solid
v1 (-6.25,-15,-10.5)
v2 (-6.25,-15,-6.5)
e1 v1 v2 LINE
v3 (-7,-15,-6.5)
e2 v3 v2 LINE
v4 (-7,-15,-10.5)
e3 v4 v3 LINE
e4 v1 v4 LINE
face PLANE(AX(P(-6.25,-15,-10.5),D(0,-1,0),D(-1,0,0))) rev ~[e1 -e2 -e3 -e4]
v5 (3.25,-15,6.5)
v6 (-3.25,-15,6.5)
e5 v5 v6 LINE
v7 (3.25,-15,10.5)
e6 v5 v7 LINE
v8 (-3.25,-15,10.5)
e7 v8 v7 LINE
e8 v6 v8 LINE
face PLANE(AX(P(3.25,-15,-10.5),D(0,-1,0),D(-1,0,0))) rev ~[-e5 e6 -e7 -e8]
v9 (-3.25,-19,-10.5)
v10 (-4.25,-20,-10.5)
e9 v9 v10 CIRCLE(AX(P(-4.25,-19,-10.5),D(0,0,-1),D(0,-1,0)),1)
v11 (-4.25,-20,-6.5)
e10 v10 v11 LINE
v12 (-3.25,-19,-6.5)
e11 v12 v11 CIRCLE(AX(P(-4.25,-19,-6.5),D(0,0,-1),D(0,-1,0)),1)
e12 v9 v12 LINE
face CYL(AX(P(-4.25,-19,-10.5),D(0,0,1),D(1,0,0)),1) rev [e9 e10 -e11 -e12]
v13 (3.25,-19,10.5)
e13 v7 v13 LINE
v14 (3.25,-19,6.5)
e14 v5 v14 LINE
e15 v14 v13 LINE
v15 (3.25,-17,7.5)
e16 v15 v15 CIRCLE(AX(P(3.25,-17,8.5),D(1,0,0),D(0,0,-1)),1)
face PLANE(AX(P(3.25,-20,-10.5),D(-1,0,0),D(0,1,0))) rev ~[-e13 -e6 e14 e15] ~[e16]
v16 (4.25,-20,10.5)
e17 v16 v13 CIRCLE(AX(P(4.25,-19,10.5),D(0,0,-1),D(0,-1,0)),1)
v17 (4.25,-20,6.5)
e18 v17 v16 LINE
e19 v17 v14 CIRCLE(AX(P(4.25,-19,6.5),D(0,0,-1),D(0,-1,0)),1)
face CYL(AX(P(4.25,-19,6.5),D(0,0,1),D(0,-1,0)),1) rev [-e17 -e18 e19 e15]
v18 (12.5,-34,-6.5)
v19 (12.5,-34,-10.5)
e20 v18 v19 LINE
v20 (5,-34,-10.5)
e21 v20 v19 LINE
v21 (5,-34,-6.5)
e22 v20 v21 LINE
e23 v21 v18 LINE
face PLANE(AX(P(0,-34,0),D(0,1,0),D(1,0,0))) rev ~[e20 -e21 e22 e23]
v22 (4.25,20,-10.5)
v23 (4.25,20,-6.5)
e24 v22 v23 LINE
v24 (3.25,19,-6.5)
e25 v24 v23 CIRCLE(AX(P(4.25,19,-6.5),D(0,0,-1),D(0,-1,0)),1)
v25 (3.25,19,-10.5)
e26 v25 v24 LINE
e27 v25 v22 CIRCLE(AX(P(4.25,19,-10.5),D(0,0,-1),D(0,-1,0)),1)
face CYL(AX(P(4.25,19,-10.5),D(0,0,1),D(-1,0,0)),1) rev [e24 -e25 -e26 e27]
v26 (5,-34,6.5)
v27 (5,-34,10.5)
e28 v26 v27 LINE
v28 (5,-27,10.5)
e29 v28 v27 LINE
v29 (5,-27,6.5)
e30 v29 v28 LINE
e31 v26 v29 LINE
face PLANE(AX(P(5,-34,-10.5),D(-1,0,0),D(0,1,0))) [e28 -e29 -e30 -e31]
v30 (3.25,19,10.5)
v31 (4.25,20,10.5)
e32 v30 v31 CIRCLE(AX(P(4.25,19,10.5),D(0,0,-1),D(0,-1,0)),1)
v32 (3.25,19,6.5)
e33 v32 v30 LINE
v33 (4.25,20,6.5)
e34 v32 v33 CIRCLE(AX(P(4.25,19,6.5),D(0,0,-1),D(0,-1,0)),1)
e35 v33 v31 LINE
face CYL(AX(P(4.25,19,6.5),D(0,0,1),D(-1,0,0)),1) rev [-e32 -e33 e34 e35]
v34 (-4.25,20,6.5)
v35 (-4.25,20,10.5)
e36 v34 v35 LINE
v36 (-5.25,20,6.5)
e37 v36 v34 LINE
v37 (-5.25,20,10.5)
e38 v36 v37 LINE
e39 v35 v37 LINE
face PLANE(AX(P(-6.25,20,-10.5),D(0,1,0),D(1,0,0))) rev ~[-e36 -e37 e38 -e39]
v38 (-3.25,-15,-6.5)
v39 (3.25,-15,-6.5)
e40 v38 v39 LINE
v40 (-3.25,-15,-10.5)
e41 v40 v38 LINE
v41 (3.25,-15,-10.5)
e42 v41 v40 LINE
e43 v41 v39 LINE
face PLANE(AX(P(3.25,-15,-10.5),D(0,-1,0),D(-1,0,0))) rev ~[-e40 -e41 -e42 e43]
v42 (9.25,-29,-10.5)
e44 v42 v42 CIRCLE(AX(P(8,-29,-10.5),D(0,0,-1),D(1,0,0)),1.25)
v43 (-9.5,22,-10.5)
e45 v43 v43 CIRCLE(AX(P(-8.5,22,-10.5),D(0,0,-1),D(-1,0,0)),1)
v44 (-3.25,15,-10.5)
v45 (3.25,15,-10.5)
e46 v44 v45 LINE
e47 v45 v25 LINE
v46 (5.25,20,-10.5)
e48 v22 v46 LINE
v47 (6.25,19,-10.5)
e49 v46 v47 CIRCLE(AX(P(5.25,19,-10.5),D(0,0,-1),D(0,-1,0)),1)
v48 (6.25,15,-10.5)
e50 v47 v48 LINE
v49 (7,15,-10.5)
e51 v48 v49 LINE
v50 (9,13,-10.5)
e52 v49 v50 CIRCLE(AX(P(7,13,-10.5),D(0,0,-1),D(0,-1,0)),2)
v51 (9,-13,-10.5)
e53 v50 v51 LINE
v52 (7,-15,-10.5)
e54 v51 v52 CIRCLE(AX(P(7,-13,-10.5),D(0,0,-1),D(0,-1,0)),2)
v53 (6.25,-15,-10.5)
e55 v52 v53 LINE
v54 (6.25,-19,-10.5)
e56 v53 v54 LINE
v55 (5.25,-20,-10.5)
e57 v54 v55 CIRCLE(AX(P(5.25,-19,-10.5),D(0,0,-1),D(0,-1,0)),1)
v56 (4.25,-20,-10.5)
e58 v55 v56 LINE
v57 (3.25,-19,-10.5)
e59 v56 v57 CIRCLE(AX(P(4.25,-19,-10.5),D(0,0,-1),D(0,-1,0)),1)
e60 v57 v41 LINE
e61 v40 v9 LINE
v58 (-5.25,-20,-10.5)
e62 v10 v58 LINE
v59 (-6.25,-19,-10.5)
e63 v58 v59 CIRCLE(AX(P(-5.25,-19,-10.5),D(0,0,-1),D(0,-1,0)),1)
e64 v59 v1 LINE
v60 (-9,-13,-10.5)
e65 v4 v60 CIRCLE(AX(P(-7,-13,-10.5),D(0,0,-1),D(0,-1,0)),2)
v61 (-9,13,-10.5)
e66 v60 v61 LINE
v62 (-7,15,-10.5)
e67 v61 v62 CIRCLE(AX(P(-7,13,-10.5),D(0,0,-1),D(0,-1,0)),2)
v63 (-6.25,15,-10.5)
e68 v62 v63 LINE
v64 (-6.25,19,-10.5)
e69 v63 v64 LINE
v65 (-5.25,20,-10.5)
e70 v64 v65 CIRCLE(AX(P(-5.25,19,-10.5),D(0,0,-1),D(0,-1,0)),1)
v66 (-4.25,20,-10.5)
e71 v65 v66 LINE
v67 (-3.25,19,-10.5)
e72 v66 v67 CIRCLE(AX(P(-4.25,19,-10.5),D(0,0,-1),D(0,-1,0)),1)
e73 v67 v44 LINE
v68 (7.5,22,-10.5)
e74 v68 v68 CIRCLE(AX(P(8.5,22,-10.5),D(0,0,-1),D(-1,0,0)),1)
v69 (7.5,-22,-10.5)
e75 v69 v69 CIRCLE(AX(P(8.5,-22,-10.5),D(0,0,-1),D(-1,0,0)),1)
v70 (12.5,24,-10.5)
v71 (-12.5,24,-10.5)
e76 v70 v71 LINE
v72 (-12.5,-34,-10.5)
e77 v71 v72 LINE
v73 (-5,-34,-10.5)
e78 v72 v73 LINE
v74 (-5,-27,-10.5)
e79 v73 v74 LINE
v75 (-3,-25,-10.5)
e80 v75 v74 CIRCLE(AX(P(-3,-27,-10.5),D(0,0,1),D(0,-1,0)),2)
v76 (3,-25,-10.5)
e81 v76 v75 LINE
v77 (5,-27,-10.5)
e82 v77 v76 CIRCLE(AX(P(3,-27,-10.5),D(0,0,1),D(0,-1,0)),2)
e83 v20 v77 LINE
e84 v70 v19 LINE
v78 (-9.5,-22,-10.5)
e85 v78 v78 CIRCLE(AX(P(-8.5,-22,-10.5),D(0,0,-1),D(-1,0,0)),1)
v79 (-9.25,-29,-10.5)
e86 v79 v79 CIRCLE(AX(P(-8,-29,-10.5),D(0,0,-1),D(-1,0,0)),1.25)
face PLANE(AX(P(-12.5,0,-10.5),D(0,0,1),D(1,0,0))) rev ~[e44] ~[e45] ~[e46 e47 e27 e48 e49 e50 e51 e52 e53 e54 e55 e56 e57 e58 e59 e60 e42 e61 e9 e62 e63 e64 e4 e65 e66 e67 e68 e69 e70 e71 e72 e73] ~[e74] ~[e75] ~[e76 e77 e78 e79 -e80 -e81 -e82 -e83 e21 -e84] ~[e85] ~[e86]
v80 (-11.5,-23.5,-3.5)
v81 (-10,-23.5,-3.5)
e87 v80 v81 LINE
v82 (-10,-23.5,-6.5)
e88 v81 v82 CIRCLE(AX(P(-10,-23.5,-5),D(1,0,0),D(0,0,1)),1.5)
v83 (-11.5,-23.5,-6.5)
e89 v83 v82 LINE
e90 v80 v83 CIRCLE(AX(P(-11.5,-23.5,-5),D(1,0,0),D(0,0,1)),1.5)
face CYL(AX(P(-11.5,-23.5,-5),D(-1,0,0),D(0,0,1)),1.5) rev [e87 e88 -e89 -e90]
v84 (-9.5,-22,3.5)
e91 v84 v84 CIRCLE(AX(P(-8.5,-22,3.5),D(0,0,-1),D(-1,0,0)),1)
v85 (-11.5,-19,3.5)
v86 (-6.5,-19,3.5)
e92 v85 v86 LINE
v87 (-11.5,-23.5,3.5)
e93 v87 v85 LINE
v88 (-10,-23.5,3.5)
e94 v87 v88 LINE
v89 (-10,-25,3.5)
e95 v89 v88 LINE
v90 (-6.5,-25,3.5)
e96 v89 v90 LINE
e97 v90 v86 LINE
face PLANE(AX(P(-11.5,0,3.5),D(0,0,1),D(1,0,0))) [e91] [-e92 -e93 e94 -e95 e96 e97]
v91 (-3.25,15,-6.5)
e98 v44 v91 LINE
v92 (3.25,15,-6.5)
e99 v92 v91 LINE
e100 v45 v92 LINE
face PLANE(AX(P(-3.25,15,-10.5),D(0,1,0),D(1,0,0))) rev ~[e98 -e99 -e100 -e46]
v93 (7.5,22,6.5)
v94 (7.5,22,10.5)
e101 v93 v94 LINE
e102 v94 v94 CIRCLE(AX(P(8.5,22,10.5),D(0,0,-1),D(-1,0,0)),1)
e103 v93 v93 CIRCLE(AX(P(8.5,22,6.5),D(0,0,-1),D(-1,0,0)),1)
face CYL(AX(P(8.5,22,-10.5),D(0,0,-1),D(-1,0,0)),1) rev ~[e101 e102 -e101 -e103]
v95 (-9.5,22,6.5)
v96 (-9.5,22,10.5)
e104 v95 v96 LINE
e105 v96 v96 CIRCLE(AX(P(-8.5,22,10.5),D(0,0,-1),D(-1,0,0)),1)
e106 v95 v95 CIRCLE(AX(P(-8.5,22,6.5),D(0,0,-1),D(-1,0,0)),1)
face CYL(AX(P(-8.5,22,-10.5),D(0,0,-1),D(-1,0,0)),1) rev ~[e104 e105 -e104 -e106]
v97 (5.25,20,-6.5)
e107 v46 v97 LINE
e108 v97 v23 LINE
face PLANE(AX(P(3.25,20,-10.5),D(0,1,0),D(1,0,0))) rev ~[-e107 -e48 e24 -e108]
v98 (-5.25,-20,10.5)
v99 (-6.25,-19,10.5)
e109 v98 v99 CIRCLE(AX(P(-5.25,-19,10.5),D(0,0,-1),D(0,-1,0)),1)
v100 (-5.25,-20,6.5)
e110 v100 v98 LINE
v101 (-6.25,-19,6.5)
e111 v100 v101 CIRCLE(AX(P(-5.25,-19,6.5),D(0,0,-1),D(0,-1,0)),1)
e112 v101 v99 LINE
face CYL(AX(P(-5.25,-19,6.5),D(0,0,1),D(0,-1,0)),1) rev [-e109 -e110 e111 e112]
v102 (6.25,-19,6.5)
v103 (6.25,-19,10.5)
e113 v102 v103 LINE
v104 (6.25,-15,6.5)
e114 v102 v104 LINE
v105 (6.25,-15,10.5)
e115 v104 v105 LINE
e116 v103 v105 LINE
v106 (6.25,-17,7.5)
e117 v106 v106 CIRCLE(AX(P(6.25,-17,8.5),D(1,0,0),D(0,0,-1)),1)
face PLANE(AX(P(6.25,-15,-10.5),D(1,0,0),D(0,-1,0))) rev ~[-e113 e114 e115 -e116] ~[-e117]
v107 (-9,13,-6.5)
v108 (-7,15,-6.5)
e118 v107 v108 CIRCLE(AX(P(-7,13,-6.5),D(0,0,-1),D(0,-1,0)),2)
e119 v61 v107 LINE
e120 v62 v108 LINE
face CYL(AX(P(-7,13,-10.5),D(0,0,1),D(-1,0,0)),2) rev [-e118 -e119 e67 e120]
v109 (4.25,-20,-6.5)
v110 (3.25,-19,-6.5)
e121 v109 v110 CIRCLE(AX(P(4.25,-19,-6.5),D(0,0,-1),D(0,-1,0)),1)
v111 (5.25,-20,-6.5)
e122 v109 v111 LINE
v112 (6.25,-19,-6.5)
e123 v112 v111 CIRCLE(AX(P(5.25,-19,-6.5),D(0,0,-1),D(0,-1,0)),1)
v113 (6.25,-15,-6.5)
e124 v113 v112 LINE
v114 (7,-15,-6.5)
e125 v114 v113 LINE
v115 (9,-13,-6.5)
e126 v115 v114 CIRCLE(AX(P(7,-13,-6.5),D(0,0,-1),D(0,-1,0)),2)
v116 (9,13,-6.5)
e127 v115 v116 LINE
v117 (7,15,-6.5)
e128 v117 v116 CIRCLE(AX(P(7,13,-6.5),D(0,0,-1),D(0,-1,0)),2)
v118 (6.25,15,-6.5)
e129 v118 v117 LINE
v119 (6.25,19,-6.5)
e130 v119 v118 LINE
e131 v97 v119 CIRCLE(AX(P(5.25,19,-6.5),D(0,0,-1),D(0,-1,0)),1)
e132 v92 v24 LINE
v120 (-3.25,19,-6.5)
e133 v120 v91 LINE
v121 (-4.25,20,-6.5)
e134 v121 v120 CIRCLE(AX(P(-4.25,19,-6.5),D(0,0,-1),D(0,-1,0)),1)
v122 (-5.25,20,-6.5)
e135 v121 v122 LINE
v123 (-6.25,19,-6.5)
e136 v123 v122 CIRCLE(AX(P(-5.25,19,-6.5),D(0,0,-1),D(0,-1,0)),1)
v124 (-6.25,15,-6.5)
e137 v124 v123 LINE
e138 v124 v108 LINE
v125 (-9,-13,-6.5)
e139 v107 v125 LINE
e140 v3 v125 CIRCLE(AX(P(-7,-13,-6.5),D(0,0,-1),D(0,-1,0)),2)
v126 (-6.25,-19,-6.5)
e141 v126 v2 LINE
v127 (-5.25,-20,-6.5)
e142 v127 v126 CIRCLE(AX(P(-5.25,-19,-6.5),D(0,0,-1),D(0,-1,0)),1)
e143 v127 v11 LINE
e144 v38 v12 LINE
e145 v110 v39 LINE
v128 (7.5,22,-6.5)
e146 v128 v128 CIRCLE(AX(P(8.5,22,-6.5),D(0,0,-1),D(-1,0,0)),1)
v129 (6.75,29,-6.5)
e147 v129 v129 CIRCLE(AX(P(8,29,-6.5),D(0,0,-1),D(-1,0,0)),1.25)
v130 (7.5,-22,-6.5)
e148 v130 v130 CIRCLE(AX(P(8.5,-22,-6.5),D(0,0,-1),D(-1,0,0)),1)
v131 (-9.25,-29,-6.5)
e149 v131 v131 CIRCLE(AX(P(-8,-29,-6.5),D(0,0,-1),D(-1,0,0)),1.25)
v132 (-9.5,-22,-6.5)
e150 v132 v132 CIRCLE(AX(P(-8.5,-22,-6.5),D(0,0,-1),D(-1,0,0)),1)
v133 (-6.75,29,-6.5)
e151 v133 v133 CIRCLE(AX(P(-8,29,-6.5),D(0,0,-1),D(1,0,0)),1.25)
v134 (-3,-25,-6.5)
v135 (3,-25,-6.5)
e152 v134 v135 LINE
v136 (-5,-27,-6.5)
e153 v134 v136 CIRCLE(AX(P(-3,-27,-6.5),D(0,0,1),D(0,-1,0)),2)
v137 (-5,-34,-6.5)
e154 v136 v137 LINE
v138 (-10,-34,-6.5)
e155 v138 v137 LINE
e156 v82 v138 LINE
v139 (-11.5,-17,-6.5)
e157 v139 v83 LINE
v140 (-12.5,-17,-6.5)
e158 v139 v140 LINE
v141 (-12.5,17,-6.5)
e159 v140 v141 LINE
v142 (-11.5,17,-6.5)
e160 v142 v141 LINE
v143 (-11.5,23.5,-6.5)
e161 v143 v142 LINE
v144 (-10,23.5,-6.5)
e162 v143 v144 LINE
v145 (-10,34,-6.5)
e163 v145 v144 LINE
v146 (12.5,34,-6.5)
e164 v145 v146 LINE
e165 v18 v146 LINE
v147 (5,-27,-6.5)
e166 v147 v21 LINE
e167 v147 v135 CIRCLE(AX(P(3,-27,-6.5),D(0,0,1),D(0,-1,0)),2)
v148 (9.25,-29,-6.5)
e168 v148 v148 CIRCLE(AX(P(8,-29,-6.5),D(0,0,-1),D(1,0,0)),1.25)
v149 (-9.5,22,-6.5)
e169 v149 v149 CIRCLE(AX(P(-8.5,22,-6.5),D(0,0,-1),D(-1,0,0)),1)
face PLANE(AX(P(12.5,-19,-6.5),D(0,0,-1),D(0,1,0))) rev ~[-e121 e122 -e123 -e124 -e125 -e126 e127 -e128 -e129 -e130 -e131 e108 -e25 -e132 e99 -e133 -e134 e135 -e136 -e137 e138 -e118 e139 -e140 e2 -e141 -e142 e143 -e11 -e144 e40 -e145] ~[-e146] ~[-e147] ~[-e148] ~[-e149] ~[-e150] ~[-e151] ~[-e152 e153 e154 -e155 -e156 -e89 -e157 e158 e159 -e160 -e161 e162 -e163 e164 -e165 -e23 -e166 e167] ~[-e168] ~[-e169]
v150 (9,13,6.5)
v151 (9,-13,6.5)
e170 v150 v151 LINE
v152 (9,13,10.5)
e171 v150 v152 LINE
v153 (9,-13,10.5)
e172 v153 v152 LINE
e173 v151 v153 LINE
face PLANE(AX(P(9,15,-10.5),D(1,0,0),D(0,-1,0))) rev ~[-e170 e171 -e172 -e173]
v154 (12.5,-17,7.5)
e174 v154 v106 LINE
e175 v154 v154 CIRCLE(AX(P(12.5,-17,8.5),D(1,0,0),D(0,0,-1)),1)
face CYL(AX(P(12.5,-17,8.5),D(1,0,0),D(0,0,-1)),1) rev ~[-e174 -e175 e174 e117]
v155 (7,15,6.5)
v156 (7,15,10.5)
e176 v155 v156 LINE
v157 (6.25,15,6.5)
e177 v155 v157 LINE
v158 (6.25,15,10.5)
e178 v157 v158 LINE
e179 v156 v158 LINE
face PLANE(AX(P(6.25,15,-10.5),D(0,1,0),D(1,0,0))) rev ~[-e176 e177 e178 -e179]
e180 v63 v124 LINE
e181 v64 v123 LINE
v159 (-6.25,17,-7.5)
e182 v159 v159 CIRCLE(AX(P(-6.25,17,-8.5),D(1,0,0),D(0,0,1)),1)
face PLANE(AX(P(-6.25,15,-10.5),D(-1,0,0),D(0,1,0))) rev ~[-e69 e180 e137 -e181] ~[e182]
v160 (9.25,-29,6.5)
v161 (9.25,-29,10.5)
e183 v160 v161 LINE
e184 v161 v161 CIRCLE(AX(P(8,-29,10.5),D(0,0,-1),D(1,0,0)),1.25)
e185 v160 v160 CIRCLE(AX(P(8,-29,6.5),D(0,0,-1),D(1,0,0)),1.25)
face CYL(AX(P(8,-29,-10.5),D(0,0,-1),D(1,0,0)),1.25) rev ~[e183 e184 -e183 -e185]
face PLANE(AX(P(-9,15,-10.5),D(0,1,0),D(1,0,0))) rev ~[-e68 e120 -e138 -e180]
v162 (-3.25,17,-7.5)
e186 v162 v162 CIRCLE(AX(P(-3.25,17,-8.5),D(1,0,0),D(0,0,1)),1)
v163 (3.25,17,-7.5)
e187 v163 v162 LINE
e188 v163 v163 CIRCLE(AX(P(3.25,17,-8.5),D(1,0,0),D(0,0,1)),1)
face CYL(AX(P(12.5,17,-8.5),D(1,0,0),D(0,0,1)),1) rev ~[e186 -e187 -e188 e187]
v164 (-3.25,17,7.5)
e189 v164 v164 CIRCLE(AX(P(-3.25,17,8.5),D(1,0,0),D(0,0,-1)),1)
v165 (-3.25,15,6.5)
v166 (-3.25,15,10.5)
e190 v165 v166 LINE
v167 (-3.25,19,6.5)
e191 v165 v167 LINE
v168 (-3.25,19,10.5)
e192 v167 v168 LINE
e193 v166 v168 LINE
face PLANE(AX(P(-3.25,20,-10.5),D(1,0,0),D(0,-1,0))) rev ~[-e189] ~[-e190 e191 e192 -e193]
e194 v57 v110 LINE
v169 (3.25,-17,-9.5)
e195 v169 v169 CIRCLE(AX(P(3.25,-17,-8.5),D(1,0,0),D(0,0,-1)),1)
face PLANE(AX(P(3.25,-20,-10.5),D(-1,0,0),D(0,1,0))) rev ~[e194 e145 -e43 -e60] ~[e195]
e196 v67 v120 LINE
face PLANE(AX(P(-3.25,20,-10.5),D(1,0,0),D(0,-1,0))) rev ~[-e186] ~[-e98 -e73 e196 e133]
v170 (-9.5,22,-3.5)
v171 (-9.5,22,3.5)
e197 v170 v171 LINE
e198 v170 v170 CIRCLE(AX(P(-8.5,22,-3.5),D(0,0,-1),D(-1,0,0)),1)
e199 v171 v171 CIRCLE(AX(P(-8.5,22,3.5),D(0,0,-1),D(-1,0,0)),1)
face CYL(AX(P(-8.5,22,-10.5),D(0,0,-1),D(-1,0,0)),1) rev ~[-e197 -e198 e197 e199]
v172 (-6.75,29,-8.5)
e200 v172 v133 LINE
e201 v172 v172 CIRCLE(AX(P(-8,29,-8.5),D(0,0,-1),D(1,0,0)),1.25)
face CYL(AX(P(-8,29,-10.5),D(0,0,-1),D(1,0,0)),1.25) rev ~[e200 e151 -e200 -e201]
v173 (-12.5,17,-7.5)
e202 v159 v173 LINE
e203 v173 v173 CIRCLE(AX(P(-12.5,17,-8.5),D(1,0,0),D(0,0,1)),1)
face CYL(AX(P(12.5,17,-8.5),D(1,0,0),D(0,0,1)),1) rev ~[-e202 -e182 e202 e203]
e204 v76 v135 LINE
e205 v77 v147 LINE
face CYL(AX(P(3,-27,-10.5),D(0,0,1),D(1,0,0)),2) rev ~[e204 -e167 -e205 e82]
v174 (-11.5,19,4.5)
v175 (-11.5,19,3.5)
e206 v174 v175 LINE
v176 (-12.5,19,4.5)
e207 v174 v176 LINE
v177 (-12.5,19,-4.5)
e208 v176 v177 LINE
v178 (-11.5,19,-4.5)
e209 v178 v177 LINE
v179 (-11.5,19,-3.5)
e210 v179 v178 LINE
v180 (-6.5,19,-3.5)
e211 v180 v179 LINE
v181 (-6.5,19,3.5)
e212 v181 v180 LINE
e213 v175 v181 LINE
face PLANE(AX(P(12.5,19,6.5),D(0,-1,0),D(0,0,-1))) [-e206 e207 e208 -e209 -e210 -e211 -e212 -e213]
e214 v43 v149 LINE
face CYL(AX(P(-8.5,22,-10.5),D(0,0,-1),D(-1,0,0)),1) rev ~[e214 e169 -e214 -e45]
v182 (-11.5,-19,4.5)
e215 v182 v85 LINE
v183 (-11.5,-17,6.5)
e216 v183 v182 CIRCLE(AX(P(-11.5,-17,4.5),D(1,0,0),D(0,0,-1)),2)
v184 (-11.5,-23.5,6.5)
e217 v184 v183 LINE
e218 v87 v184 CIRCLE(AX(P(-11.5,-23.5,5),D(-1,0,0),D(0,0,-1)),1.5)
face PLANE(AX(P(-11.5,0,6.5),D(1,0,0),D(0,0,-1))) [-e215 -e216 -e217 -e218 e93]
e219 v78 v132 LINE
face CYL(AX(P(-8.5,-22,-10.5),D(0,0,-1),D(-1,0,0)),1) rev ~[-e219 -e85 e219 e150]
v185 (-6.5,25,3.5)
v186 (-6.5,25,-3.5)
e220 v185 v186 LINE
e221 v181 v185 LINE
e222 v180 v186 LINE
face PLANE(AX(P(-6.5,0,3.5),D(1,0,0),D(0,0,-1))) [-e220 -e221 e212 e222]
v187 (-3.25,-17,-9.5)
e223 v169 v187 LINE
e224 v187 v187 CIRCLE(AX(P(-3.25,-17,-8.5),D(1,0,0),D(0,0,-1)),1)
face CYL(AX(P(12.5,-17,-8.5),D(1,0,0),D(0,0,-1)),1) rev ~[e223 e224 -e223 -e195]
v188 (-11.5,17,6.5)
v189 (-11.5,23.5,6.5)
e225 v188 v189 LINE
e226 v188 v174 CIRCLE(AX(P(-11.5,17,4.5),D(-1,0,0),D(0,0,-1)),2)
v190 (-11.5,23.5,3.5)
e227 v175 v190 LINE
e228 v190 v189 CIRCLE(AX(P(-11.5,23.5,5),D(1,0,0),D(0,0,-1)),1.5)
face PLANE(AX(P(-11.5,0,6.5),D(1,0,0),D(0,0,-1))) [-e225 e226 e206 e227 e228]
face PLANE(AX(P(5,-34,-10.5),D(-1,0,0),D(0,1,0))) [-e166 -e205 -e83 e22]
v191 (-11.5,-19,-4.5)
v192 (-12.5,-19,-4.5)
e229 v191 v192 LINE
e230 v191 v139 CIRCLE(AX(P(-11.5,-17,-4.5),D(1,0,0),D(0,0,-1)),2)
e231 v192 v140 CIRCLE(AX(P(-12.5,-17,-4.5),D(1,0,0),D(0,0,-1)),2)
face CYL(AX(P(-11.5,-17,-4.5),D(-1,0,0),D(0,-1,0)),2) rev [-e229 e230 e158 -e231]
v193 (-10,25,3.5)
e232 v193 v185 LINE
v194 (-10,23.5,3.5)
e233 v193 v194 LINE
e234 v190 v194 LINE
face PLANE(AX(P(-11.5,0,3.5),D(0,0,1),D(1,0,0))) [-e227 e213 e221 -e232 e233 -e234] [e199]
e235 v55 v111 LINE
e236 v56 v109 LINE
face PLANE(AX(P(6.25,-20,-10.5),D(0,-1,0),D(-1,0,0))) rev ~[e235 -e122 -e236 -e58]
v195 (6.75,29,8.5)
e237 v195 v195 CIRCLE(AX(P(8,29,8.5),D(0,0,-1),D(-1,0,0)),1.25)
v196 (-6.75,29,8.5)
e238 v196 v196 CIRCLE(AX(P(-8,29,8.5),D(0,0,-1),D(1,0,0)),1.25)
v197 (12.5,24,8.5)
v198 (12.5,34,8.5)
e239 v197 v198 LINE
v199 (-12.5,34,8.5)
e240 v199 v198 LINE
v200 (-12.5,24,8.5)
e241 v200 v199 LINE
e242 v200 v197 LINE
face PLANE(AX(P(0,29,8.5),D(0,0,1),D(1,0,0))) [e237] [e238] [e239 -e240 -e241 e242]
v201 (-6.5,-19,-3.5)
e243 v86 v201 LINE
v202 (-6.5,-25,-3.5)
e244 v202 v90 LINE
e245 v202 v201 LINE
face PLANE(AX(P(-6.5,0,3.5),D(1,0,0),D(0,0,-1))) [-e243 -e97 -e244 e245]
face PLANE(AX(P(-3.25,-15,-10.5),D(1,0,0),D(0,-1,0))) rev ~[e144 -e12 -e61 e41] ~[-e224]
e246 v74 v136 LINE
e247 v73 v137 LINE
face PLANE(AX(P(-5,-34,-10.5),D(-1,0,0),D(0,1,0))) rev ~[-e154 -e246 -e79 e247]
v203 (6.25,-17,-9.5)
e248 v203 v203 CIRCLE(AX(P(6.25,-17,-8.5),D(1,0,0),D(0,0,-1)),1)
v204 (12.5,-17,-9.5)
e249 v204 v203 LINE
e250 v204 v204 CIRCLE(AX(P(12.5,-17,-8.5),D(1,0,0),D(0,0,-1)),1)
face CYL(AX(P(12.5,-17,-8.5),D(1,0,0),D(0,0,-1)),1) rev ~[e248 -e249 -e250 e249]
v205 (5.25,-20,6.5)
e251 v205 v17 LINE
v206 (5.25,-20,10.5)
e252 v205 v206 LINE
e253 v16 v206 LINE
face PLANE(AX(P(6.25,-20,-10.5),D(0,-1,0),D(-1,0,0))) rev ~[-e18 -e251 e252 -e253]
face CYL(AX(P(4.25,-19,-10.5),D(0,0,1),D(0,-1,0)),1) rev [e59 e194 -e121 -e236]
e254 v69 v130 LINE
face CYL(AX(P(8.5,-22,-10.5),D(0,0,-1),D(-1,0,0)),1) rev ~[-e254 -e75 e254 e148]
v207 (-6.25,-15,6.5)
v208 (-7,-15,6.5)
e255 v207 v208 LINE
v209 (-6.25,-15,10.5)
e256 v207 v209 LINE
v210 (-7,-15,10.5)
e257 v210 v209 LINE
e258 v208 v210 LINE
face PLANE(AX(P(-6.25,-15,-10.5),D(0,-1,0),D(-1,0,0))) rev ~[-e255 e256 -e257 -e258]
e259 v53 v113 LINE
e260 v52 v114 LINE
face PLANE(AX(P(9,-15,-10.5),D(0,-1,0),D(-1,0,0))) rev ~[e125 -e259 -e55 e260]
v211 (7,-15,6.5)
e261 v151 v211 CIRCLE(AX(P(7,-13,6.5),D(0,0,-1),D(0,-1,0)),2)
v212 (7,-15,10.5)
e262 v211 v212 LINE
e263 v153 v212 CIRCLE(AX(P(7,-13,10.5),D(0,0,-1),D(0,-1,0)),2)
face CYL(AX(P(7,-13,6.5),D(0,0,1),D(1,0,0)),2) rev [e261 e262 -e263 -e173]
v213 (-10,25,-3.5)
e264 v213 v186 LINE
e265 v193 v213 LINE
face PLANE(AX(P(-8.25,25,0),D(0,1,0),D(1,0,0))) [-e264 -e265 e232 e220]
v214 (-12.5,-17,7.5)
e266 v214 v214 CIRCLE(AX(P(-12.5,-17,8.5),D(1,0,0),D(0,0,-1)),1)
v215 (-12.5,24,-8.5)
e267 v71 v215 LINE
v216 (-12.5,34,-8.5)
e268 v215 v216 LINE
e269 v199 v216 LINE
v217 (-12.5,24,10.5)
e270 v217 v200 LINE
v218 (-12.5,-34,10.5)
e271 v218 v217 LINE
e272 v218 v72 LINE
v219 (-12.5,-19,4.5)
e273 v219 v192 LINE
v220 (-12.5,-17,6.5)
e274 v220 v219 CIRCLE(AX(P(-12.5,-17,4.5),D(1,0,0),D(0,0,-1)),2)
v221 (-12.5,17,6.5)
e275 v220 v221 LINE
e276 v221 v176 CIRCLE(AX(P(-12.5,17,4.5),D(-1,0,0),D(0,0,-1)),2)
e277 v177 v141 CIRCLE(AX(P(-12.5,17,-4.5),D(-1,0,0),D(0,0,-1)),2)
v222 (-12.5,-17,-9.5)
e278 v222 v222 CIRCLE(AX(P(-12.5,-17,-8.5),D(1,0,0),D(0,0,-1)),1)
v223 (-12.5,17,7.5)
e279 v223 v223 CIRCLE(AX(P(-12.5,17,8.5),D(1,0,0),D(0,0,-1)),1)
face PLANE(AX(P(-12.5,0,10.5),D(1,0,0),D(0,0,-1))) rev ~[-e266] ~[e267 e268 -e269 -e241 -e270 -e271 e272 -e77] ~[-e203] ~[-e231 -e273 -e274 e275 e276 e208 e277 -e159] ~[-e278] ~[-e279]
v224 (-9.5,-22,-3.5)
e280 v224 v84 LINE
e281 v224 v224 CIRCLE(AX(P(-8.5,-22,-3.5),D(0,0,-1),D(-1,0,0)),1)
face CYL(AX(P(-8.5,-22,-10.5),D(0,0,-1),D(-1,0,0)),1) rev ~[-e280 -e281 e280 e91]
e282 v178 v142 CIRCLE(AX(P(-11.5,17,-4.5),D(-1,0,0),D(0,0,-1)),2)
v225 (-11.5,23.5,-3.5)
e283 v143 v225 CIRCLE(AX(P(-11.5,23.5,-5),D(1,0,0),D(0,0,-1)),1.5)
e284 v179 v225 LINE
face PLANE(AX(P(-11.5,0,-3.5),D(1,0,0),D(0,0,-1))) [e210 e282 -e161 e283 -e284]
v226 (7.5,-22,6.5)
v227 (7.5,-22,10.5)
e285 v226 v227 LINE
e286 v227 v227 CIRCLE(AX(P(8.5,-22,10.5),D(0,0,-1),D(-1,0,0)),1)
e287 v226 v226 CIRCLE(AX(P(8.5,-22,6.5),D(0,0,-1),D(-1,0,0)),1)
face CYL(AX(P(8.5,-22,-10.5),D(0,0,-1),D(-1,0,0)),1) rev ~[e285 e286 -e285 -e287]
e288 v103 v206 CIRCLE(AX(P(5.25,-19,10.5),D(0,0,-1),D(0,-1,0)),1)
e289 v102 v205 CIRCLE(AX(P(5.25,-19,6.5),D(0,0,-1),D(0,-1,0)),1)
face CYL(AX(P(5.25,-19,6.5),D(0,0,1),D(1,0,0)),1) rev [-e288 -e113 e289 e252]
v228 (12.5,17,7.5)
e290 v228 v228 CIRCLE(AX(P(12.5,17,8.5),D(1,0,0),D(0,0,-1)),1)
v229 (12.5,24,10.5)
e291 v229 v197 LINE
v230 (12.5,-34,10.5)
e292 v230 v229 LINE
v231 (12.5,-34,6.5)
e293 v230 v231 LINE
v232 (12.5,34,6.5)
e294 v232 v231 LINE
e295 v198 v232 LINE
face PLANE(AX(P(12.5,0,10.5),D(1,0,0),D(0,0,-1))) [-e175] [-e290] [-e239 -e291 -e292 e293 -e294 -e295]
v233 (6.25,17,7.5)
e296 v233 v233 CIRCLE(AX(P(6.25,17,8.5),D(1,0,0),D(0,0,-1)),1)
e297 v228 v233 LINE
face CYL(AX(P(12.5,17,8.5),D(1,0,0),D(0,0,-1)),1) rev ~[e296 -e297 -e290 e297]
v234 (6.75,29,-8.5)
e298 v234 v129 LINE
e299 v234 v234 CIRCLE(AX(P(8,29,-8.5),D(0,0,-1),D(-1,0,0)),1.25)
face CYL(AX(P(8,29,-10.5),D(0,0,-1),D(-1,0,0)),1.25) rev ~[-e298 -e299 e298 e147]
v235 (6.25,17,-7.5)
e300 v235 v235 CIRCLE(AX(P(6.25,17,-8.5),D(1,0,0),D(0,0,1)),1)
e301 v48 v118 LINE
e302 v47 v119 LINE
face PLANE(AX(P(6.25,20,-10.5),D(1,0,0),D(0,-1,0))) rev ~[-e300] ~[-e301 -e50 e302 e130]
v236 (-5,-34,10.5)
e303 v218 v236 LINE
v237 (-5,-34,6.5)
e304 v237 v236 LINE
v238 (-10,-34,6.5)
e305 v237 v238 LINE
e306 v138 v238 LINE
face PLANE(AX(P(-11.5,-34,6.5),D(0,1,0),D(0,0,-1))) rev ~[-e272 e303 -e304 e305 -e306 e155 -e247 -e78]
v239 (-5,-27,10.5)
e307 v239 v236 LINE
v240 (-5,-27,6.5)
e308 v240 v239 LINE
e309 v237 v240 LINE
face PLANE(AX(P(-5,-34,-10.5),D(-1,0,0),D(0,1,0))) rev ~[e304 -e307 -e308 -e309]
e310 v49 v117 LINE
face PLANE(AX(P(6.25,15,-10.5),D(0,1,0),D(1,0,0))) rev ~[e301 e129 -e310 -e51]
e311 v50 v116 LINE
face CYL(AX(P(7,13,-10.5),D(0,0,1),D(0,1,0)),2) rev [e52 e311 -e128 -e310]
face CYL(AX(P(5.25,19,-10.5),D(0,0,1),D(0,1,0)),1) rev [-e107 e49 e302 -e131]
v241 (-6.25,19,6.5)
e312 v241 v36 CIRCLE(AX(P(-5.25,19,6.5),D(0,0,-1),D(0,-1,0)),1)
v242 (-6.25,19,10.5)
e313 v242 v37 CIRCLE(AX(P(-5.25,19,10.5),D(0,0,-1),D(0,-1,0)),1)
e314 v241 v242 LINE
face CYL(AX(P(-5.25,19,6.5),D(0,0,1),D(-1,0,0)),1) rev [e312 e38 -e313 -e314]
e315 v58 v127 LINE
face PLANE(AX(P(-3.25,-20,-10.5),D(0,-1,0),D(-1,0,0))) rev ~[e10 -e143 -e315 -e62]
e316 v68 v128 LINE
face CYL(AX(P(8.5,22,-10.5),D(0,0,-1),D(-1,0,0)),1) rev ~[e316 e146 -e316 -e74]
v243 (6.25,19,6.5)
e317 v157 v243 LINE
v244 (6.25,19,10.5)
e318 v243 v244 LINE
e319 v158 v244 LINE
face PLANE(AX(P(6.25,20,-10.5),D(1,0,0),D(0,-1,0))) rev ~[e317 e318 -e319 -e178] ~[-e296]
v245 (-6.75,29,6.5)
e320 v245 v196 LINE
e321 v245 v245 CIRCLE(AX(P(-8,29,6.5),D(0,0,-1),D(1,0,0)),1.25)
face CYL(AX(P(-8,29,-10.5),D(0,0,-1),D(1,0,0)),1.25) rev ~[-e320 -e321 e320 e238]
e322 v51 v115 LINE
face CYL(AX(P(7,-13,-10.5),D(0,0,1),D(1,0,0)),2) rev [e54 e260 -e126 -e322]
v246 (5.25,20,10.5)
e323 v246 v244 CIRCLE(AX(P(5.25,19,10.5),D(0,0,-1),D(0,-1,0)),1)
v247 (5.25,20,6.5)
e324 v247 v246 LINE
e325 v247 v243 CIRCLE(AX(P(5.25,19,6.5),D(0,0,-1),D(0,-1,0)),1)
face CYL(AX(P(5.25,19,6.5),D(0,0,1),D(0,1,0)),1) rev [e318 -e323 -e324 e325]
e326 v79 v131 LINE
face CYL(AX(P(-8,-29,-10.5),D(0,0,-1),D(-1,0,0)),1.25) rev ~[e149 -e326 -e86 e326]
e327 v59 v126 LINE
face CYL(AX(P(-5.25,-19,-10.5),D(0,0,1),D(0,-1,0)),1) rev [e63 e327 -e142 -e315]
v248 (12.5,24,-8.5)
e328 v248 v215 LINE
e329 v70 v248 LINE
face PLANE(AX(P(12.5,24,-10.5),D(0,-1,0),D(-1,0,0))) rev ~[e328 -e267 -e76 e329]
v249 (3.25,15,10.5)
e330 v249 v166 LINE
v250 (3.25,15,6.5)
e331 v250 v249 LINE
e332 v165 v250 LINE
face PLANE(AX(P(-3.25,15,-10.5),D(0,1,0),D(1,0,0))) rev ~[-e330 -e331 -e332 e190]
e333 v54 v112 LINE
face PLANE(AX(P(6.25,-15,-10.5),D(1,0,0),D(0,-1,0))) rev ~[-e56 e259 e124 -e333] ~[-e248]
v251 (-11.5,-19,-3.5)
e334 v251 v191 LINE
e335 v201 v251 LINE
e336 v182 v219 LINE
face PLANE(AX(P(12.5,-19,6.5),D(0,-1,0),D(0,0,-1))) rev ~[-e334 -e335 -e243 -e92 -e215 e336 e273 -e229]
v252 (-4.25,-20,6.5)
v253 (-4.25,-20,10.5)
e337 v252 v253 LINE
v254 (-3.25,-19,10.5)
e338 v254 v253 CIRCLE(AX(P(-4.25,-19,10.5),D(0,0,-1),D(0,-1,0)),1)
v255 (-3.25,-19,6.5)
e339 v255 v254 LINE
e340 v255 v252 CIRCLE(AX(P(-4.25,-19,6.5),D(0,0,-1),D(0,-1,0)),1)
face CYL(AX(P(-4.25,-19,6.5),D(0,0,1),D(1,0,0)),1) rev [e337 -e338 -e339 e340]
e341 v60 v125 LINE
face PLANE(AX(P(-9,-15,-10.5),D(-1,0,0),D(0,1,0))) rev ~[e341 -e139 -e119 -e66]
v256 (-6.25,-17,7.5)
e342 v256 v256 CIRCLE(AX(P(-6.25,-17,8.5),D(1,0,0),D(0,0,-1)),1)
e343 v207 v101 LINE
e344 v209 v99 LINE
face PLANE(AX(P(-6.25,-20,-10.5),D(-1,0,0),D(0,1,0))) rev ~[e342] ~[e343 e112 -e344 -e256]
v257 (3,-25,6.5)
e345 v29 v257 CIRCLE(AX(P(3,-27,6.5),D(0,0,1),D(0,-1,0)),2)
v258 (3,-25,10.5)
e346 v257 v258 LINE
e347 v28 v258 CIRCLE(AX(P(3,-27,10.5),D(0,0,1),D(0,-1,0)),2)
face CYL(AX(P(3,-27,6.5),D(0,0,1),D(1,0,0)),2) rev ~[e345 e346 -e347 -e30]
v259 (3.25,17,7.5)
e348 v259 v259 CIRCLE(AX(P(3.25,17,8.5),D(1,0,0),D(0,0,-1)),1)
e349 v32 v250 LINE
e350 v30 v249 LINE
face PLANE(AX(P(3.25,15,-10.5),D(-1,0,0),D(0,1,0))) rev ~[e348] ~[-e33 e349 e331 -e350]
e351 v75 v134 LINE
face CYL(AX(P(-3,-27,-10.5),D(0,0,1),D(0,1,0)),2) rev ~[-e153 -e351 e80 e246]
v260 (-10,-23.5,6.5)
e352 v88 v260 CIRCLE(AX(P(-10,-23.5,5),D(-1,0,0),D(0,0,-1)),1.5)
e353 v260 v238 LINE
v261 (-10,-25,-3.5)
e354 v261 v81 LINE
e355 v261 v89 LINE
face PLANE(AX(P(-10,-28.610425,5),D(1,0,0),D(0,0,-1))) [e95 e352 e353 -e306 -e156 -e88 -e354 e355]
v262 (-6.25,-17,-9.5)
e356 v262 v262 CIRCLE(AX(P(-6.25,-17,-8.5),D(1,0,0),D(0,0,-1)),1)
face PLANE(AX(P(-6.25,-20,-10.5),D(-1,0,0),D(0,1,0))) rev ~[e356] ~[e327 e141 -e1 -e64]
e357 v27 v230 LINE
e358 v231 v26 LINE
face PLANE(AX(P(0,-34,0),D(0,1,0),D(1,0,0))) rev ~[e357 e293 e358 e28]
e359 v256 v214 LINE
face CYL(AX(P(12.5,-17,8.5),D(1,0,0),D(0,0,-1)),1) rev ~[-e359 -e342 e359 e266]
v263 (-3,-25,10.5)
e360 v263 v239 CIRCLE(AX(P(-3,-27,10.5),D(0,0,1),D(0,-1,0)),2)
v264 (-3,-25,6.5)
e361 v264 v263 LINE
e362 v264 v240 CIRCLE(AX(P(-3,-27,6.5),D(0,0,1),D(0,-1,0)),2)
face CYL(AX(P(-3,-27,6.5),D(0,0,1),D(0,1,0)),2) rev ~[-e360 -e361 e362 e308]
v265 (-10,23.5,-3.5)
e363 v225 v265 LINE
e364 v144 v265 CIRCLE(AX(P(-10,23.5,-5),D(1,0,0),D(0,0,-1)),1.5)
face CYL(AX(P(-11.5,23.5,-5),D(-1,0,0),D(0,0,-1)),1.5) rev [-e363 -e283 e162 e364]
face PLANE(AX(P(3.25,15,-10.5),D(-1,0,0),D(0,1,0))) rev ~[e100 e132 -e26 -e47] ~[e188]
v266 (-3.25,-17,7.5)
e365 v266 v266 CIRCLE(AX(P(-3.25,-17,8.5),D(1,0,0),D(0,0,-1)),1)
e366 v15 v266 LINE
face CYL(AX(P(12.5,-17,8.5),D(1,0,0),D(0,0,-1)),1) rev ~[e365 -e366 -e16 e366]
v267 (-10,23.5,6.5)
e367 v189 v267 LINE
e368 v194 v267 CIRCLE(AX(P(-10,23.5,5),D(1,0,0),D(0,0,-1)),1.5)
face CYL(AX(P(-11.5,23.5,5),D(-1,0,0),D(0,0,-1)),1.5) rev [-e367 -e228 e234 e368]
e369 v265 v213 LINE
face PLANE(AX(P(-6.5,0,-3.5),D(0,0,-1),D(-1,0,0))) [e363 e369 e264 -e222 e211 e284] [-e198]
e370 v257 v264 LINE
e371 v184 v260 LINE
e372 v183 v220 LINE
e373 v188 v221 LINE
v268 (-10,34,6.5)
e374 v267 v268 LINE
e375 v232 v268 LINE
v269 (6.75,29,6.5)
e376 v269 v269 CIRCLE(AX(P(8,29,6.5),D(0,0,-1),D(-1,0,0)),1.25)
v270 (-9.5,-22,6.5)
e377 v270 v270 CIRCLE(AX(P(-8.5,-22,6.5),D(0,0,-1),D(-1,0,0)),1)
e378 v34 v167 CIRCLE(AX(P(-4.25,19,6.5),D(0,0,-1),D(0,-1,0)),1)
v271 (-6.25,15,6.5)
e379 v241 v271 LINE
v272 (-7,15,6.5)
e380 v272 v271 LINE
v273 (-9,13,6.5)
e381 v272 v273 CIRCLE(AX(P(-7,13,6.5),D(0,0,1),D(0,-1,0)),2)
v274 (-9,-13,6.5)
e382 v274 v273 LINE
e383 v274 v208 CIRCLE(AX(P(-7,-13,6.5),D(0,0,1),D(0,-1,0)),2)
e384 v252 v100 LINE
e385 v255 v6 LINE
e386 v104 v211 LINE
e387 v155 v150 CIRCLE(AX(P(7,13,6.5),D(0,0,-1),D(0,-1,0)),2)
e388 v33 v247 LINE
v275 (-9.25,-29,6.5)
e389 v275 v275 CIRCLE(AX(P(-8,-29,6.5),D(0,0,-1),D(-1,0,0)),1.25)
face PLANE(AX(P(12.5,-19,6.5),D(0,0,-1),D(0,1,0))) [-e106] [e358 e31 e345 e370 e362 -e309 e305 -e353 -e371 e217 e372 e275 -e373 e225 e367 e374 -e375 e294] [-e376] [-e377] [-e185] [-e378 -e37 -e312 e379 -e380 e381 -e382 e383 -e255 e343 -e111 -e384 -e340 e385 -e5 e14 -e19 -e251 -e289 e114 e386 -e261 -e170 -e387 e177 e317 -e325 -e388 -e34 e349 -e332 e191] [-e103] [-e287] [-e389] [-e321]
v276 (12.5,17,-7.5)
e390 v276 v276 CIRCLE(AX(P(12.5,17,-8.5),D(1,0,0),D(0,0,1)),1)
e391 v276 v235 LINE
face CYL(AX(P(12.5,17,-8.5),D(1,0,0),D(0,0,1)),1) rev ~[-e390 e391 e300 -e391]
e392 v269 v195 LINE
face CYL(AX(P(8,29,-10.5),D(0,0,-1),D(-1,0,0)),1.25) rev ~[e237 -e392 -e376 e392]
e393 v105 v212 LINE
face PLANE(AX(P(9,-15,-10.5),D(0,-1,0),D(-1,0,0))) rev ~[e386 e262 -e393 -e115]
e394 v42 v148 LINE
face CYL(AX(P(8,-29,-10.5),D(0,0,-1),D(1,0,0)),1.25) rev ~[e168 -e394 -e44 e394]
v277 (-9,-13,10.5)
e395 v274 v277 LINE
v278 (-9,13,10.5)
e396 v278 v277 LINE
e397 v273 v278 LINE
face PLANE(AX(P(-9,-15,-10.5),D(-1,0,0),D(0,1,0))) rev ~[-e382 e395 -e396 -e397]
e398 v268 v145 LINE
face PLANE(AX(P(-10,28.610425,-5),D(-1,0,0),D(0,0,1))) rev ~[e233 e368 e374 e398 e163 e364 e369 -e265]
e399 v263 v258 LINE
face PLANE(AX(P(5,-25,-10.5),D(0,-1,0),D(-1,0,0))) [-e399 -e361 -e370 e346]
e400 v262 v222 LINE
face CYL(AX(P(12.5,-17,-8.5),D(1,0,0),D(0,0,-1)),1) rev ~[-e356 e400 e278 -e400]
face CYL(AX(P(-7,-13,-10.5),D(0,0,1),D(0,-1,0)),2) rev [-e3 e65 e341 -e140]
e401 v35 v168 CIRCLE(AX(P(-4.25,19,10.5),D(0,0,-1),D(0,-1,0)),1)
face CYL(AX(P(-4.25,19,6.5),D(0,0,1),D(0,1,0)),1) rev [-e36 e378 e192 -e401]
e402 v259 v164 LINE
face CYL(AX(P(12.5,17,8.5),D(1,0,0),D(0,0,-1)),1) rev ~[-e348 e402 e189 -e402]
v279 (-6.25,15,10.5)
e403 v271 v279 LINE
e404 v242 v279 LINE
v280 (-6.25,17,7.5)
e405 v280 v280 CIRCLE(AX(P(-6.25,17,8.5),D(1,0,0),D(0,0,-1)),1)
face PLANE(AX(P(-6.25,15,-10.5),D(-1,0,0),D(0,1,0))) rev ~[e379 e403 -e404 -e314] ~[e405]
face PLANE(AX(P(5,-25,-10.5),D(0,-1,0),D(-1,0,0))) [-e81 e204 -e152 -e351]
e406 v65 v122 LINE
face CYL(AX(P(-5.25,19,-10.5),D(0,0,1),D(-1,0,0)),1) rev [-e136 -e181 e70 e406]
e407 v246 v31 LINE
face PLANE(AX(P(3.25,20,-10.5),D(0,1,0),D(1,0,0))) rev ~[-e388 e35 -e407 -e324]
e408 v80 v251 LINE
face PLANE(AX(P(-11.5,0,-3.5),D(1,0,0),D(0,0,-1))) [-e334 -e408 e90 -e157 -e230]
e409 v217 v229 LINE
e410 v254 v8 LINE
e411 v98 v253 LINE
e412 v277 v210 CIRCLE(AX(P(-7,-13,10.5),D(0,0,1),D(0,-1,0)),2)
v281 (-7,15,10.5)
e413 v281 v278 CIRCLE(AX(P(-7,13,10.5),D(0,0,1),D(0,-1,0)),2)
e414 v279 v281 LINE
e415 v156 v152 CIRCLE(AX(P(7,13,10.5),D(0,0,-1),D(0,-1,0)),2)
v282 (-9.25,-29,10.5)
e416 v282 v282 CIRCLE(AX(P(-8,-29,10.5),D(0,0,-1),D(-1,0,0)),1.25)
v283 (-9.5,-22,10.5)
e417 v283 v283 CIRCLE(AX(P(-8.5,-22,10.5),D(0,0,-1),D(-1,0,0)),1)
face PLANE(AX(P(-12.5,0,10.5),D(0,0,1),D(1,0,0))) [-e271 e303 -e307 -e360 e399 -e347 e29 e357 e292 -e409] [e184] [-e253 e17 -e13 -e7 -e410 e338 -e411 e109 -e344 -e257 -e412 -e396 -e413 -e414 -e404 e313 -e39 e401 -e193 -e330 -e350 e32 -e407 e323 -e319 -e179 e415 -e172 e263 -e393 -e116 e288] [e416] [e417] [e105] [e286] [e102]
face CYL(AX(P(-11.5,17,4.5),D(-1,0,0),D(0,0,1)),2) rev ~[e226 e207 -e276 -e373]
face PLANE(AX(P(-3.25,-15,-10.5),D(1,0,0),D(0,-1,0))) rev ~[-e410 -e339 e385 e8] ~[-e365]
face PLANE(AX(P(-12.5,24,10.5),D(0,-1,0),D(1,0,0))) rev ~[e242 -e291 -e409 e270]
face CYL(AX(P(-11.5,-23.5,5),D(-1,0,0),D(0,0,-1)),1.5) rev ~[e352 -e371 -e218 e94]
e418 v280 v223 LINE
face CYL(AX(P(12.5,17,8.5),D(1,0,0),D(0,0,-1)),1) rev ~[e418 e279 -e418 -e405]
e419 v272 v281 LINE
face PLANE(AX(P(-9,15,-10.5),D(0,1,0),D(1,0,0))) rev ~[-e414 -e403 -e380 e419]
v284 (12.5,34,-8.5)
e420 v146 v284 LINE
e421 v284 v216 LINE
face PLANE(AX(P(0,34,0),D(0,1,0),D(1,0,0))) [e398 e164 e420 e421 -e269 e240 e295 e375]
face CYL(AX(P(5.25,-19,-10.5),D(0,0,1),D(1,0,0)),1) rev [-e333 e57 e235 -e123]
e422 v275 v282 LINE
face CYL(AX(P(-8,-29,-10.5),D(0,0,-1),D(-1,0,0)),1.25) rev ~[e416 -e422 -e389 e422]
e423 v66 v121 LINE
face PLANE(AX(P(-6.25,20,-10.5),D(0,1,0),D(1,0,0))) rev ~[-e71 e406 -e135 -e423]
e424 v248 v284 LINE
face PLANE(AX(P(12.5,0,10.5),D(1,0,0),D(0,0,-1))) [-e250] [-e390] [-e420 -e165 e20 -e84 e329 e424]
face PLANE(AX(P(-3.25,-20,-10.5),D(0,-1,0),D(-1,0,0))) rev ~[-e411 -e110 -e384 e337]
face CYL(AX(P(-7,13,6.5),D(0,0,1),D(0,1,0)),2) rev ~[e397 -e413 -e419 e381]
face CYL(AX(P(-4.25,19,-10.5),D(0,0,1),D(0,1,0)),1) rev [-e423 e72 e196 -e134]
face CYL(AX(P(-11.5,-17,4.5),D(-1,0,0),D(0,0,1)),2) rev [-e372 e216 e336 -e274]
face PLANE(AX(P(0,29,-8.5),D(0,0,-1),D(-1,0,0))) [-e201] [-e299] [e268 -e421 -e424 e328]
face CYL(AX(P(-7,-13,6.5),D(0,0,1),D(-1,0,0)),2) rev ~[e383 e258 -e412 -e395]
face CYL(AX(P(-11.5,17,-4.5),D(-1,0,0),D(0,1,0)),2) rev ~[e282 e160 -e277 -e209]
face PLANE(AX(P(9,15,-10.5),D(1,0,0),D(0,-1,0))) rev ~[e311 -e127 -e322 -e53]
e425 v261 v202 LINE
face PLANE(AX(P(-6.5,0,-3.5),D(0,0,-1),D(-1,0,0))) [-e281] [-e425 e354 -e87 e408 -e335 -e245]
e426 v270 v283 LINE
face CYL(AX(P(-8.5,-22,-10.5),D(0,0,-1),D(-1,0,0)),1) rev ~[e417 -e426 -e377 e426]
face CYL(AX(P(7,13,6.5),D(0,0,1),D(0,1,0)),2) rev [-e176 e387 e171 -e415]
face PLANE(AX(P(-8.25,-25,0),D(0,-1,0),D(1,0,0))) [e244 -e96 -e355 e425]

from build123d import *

# Parameters (mm, degrees)
SKETCH_1_W           = 25
SKETCH_1_H           = 21
EXTRUDE_2_DEPTH      = 34
SKETCH_2_W           = 10
SKETCH_2_H           = 9
SKETCH_2_R           = 1
CUT_EXTRUDE_4_DEPTH  = 60
SKETCH_3_R           = 1
SKETCH_3_W           = 13
SKETCH_3_H           = 38
CUT_EXTRUDE_2_DEPTH  = 44.488504228
SKETCH_6_W           = 3.5
SKETCH_6_H           = 7
CUT_EXTRUDE_5_DEPTH  = 9
SKETCH_11_W          = 3.5
SKETCH_11_H          = 7
CUT_EXTRUDE_9_DEPTH  = 9
SKETCH_7_R           = 1.25
CUT_EXTRUDE_6_DEPTH  = 42.871828238
SKETCH_9_W           = 25
SKETCH_9_H           = 10
CUT_EXTRUDE_7_DEPTH  = 2
SKETCH_10_W          = 25
SKETCH_10_H          = 10
CUT_EXTRUDE_8_DEPTH  = 2
CUT_EXTRUDE_START    = -6
SKETCH_12_W          = 13
SKETCH_12_H          = 68
CUT_EXTRUDE_10_DEPTH = 6
EXTRUDE_4_DEPTH      = 1.5
FILLET_R2_R          = 2
FILLET_R1_R          = 1


with BuildPart() as part:
    # 草图1 → 凸台-拉伸2 (new, symmetric)
    with BuildSketch(Plane(origin=(0, 0, 0), x_dir=(1, 0, 0), z_dir=(0, 1, 0))):
        Rectangle(SKETCH_1_W, SKETCH_1_H)
        Polygon((11.5, -3.5), (11.5, -6.5), (6.5, -6.5), (6, -6.5), (-6, -6.5), (-6.5, -6.5), (-11.5, -6.5), (-11.5, -3.5), (-6.5, -3.5), (-6.5, 3.5), (-11.5, 3.5), (-11.5, 6.5), (-6.5, 6.5), (-6, 6.5), (6, 6.5), (6.5, 6.5), (11.5, 6.5), (11.5, 3.5), (6.5, 3.5), (6.5, -3.5), align=None, mode=Mode.SUBTRACT)
    extrude(amount=EXTRUDE_2_DEPTH, both=True)

    # 草图2 → 切除-拉伸4 (cut)
    with BuildSketch(Plane(origin=(0, 0, -10.5), x_dir=(-1, 0, 0), z_dir=(0, 0, -1))):
        Polygon((9, -15), (9, 15), (6.25, 15), (6.25, 20), (3.25, 20), (3.25, 15), (-3.25, 15), (-3.25, 20), (-6.25, 20), (-6.25, 15), (-9, 15), (-9, -15), (-6.25, -15), (-6.25, -20), (-3.25, -20), (-3.25, -15), (3.25, -15), (3.25, -20), (6.25, -20), (6.25, -15), align=None)
        with Locations((0, -29.5)):
            Rectangle(SKETCH_2_W, SKETCH_2_H)
        with Locations((8.5, -22)):
            Circle(SKETCH_2_R)
        with Locations((-8.5, -22)):
            Circle(SKETCH_2_R)
        with Locations((-8.5, 22)):
            Circle(SKETCH_2_R)
        with Locations((8.5, 22)):
            Circle(SKETCH_2_R)
    extrude(amount=-CUT_EXTRUDE_4_DEPTH, mode=Mode.SUBTRACT)

    # 草图3 → 切除-拉伸2 (cut, through all)
    with BuildSketch(Plane(origin=(12.5, 0, 0), x_dir=(0, 0, -1), z_dir=(1, 0, 0))):
        with Locations((8.5, -17)):
            Circle(SKETCH_3_R)
        with Locations(Location((8.5, 17, 0), (0, 0, 180))):
            Circle(SKETCH_3_R)
        with Locations((-8.5, 17)):
            Circle(SKETCH_3_R)
        with Locations((-8.5, -17)):
            Circle(SKETCH_3_R)
        Rectangle(SKETCH_3_W, SKETCH_3_H)
    extrude(amount=-CUT_EXTRUDE_2_DEPTH, mode=Mode.SUBTRACT)

    # 草图6 → 切除-拉伸5 (cut)
    with BuildSketch(Plane.XZ.offset(34)):
        with Locations((8.25, 0)):
            Rectangle(SKETCH_6_W, SKETCH_6_H)
        with Locations((-8.25, 0)):
            Rectangle(SKETCH_6_W, SKETCH_6_H)
    extrude(amount=-CUT_EXTRUDE_5_DEPTH, mode=Mode.SUBTRACT)

    # 草图11 → 切除-拉伸9 (cut)
    with BuildSketch(Plane(origin=(0, 34, 0), x_dir=(1, 0, 0), z_dir=(0, 1, 0))):
        with Locations((-8.25, 0)):
            Rectangle(SKETCH_11_W, SKETCH_11_H)
        with Locations((8.25, 0)):
            Rectangle(SKETCH_11_W, SKETCH_11_H)
    extrude(amount=-CUT_EXTRUDE_9_DEPTH, mode=Mode.SUBTRACT)

    # 草图7 → 切除-拉伸6 (cut, through all)
    with BuildSketch(Plane(origin=(0, 0, -10.5), x_dir=(-1, 0, 0), z_dir=(0, 0, -1))):
        with Locations((8, -29)):
            Circle(SKETCH_7_R)
        with Locations(Location((-8, -29, 0), (0, 0, 180))):
            Circle(SKETCH_7_R)
        with Locations((-8, 29)):
            Circle(SKETCH_7_R)
        with Locations(Location((8, 29, 0), (0, 0, 180))):
            Circle(SKETCH_7_R)
    extrude(amount=-CUT_EXTRUDE_6_DEPTH, mode=Mode.SUBTRACT)

    # 草图9 → 切除-拉伸7 (cut)
    with BuildSketch(Plane(origin=(0, 0, -10.5), x_dir=(-1, 0, 0), z_dir=(0, 0, -1))):
        with Locations((0, 29)):
            Rectangle(SKETCH_9_W, SKETCH_9_H)
    extrude(amount=-CUT_EXTRUDE_7_DEPTH, mode=Mode.SUBTRACT)

    # 草图10 → 切除-拉伸8 (cut)
    with BuildSketch(Plane.XY.offset(10.5)):
        with Locations((0, 29)):
            Rectangle(SKETCH_10_W, SKETCH_10_H)
    extrude(amount=-CUT_EXTRUDE_8_DEPTH, mode=Mode.SUBTRACT)

    # 草图12 → 切除-拉伸10 (cut)
    with BuildSketch(Plane(origin=(12.5, 0, 0), x_dir=(0, 0, -1), z_dir=(1, 0, 0)).offset(CUT_EXTRUDE_START)):
        Rectangle(SKETCH_12_W, SKETCH_12_H)
    extrude(amount=CUT_EXTRUDE_10_DEPTH, mode=Mode.SUBTRACT)

    # 草图13 → 凸台-拉伸4 (add)
    with BuildSketch(Plane(origin=(-11.5, 0, 0), x_dir=(0, 0, -1), z_dir=(1, 0, 0))):
        with BuildLine():
            Line((-6.5, -34), (-3.5, -34))
            Line((-3.5, -34), (-3.5, -23.5))
            ThreePointArc((-3.5, -23.5), (-5, -25), (-6.5, -23.5))
            Line((-6.5, -23.5), (-6.5, -34))
        make_face()
        with BuildLine():
            Line((3.5, -34), (3.5, -23.5))
            ThreePointArc((3.5, -23.5), (5, -25), (6.5, -23.5))
            Line((6.5, -23.5), (6.5, -34))
            Line((6.5, -34), (3.5, -34))
        make_face()
        with BuildLine():
            Line((-3.5, 34), (-3.5, 23.5))
            ThreePointArc((-3.5, 23.5), (-5, 25), (-6.5, 23.5))
            Line((-6.5, 23.5), (-6.5, 34))
            Line((-6.5, 34), (-3.5, 34))
        make_face()
        with BuildLine():
            Line((6.5, 34), (6.5, 23.5))
            ThreePointArc((6.5, 23.5), (5, 25), (3.5, 23.5))
            Line((3.5, 23.5), (3.5, 34))
            Line((3.5, 34), (6.5, 34))
        make_face()
    extrude(amount=EXTRUDE_4_DEPTH)

    # R2
    fillet_r2_edges = [part.edges().sort_by_distance(p)[0] for p in [
        (5, -25, 8.5),
        (5, -25, -8.5),
        (-5, -25, 8.5),
        (-5, -25, -8.5),
        (9, -15, 8.5),
        (9, -15, -8.5),
        (9, 15, 8.5),
        (9, 15, -8.5),
        (-9, 15, 8.5),
        (-9, 15, -8.5),
        (-9, -15, 8.5),
        (-9, -15, -8.5),
        (-12, -19, 6.5),
        (-12, 19, -6.5),
        (-12, 19, 6.5),
        (-12, -19, -6.5),
    ]]
    fillet(fillet_r2_edges, radius=FILLET_R2_R)

    # R1
    fillet_r1_edges = [part.edges().sort_by_distance(p)[0] for p in [
        (-3.25, -20, 8.5),
        (-3.25, -20, -8.5),
        (-6.25, -20, 8.5),
        (-6.25, -20, -8.5),
        (3.25, -20, 8.5),
        (3.25, -20, -8.5),
        (6.25, -20, 8.5),
        (6.25, -20, -8.5),
        (6.25, 20, 8.5),
        (6.25, 20, -8.5),
        (3.25, 20, 8.5),
        (3.25, 20, -8.5),
        (-3.25, 20, 8.5),
        (-3.25, 20, -8.5),
        (-6.25, 20, 8.5),
        (-6.25, 20, -8.5),
    ]]
    fillet(fillet_r1_edges, radius=FILLET_R1_R)


solid = part.part
